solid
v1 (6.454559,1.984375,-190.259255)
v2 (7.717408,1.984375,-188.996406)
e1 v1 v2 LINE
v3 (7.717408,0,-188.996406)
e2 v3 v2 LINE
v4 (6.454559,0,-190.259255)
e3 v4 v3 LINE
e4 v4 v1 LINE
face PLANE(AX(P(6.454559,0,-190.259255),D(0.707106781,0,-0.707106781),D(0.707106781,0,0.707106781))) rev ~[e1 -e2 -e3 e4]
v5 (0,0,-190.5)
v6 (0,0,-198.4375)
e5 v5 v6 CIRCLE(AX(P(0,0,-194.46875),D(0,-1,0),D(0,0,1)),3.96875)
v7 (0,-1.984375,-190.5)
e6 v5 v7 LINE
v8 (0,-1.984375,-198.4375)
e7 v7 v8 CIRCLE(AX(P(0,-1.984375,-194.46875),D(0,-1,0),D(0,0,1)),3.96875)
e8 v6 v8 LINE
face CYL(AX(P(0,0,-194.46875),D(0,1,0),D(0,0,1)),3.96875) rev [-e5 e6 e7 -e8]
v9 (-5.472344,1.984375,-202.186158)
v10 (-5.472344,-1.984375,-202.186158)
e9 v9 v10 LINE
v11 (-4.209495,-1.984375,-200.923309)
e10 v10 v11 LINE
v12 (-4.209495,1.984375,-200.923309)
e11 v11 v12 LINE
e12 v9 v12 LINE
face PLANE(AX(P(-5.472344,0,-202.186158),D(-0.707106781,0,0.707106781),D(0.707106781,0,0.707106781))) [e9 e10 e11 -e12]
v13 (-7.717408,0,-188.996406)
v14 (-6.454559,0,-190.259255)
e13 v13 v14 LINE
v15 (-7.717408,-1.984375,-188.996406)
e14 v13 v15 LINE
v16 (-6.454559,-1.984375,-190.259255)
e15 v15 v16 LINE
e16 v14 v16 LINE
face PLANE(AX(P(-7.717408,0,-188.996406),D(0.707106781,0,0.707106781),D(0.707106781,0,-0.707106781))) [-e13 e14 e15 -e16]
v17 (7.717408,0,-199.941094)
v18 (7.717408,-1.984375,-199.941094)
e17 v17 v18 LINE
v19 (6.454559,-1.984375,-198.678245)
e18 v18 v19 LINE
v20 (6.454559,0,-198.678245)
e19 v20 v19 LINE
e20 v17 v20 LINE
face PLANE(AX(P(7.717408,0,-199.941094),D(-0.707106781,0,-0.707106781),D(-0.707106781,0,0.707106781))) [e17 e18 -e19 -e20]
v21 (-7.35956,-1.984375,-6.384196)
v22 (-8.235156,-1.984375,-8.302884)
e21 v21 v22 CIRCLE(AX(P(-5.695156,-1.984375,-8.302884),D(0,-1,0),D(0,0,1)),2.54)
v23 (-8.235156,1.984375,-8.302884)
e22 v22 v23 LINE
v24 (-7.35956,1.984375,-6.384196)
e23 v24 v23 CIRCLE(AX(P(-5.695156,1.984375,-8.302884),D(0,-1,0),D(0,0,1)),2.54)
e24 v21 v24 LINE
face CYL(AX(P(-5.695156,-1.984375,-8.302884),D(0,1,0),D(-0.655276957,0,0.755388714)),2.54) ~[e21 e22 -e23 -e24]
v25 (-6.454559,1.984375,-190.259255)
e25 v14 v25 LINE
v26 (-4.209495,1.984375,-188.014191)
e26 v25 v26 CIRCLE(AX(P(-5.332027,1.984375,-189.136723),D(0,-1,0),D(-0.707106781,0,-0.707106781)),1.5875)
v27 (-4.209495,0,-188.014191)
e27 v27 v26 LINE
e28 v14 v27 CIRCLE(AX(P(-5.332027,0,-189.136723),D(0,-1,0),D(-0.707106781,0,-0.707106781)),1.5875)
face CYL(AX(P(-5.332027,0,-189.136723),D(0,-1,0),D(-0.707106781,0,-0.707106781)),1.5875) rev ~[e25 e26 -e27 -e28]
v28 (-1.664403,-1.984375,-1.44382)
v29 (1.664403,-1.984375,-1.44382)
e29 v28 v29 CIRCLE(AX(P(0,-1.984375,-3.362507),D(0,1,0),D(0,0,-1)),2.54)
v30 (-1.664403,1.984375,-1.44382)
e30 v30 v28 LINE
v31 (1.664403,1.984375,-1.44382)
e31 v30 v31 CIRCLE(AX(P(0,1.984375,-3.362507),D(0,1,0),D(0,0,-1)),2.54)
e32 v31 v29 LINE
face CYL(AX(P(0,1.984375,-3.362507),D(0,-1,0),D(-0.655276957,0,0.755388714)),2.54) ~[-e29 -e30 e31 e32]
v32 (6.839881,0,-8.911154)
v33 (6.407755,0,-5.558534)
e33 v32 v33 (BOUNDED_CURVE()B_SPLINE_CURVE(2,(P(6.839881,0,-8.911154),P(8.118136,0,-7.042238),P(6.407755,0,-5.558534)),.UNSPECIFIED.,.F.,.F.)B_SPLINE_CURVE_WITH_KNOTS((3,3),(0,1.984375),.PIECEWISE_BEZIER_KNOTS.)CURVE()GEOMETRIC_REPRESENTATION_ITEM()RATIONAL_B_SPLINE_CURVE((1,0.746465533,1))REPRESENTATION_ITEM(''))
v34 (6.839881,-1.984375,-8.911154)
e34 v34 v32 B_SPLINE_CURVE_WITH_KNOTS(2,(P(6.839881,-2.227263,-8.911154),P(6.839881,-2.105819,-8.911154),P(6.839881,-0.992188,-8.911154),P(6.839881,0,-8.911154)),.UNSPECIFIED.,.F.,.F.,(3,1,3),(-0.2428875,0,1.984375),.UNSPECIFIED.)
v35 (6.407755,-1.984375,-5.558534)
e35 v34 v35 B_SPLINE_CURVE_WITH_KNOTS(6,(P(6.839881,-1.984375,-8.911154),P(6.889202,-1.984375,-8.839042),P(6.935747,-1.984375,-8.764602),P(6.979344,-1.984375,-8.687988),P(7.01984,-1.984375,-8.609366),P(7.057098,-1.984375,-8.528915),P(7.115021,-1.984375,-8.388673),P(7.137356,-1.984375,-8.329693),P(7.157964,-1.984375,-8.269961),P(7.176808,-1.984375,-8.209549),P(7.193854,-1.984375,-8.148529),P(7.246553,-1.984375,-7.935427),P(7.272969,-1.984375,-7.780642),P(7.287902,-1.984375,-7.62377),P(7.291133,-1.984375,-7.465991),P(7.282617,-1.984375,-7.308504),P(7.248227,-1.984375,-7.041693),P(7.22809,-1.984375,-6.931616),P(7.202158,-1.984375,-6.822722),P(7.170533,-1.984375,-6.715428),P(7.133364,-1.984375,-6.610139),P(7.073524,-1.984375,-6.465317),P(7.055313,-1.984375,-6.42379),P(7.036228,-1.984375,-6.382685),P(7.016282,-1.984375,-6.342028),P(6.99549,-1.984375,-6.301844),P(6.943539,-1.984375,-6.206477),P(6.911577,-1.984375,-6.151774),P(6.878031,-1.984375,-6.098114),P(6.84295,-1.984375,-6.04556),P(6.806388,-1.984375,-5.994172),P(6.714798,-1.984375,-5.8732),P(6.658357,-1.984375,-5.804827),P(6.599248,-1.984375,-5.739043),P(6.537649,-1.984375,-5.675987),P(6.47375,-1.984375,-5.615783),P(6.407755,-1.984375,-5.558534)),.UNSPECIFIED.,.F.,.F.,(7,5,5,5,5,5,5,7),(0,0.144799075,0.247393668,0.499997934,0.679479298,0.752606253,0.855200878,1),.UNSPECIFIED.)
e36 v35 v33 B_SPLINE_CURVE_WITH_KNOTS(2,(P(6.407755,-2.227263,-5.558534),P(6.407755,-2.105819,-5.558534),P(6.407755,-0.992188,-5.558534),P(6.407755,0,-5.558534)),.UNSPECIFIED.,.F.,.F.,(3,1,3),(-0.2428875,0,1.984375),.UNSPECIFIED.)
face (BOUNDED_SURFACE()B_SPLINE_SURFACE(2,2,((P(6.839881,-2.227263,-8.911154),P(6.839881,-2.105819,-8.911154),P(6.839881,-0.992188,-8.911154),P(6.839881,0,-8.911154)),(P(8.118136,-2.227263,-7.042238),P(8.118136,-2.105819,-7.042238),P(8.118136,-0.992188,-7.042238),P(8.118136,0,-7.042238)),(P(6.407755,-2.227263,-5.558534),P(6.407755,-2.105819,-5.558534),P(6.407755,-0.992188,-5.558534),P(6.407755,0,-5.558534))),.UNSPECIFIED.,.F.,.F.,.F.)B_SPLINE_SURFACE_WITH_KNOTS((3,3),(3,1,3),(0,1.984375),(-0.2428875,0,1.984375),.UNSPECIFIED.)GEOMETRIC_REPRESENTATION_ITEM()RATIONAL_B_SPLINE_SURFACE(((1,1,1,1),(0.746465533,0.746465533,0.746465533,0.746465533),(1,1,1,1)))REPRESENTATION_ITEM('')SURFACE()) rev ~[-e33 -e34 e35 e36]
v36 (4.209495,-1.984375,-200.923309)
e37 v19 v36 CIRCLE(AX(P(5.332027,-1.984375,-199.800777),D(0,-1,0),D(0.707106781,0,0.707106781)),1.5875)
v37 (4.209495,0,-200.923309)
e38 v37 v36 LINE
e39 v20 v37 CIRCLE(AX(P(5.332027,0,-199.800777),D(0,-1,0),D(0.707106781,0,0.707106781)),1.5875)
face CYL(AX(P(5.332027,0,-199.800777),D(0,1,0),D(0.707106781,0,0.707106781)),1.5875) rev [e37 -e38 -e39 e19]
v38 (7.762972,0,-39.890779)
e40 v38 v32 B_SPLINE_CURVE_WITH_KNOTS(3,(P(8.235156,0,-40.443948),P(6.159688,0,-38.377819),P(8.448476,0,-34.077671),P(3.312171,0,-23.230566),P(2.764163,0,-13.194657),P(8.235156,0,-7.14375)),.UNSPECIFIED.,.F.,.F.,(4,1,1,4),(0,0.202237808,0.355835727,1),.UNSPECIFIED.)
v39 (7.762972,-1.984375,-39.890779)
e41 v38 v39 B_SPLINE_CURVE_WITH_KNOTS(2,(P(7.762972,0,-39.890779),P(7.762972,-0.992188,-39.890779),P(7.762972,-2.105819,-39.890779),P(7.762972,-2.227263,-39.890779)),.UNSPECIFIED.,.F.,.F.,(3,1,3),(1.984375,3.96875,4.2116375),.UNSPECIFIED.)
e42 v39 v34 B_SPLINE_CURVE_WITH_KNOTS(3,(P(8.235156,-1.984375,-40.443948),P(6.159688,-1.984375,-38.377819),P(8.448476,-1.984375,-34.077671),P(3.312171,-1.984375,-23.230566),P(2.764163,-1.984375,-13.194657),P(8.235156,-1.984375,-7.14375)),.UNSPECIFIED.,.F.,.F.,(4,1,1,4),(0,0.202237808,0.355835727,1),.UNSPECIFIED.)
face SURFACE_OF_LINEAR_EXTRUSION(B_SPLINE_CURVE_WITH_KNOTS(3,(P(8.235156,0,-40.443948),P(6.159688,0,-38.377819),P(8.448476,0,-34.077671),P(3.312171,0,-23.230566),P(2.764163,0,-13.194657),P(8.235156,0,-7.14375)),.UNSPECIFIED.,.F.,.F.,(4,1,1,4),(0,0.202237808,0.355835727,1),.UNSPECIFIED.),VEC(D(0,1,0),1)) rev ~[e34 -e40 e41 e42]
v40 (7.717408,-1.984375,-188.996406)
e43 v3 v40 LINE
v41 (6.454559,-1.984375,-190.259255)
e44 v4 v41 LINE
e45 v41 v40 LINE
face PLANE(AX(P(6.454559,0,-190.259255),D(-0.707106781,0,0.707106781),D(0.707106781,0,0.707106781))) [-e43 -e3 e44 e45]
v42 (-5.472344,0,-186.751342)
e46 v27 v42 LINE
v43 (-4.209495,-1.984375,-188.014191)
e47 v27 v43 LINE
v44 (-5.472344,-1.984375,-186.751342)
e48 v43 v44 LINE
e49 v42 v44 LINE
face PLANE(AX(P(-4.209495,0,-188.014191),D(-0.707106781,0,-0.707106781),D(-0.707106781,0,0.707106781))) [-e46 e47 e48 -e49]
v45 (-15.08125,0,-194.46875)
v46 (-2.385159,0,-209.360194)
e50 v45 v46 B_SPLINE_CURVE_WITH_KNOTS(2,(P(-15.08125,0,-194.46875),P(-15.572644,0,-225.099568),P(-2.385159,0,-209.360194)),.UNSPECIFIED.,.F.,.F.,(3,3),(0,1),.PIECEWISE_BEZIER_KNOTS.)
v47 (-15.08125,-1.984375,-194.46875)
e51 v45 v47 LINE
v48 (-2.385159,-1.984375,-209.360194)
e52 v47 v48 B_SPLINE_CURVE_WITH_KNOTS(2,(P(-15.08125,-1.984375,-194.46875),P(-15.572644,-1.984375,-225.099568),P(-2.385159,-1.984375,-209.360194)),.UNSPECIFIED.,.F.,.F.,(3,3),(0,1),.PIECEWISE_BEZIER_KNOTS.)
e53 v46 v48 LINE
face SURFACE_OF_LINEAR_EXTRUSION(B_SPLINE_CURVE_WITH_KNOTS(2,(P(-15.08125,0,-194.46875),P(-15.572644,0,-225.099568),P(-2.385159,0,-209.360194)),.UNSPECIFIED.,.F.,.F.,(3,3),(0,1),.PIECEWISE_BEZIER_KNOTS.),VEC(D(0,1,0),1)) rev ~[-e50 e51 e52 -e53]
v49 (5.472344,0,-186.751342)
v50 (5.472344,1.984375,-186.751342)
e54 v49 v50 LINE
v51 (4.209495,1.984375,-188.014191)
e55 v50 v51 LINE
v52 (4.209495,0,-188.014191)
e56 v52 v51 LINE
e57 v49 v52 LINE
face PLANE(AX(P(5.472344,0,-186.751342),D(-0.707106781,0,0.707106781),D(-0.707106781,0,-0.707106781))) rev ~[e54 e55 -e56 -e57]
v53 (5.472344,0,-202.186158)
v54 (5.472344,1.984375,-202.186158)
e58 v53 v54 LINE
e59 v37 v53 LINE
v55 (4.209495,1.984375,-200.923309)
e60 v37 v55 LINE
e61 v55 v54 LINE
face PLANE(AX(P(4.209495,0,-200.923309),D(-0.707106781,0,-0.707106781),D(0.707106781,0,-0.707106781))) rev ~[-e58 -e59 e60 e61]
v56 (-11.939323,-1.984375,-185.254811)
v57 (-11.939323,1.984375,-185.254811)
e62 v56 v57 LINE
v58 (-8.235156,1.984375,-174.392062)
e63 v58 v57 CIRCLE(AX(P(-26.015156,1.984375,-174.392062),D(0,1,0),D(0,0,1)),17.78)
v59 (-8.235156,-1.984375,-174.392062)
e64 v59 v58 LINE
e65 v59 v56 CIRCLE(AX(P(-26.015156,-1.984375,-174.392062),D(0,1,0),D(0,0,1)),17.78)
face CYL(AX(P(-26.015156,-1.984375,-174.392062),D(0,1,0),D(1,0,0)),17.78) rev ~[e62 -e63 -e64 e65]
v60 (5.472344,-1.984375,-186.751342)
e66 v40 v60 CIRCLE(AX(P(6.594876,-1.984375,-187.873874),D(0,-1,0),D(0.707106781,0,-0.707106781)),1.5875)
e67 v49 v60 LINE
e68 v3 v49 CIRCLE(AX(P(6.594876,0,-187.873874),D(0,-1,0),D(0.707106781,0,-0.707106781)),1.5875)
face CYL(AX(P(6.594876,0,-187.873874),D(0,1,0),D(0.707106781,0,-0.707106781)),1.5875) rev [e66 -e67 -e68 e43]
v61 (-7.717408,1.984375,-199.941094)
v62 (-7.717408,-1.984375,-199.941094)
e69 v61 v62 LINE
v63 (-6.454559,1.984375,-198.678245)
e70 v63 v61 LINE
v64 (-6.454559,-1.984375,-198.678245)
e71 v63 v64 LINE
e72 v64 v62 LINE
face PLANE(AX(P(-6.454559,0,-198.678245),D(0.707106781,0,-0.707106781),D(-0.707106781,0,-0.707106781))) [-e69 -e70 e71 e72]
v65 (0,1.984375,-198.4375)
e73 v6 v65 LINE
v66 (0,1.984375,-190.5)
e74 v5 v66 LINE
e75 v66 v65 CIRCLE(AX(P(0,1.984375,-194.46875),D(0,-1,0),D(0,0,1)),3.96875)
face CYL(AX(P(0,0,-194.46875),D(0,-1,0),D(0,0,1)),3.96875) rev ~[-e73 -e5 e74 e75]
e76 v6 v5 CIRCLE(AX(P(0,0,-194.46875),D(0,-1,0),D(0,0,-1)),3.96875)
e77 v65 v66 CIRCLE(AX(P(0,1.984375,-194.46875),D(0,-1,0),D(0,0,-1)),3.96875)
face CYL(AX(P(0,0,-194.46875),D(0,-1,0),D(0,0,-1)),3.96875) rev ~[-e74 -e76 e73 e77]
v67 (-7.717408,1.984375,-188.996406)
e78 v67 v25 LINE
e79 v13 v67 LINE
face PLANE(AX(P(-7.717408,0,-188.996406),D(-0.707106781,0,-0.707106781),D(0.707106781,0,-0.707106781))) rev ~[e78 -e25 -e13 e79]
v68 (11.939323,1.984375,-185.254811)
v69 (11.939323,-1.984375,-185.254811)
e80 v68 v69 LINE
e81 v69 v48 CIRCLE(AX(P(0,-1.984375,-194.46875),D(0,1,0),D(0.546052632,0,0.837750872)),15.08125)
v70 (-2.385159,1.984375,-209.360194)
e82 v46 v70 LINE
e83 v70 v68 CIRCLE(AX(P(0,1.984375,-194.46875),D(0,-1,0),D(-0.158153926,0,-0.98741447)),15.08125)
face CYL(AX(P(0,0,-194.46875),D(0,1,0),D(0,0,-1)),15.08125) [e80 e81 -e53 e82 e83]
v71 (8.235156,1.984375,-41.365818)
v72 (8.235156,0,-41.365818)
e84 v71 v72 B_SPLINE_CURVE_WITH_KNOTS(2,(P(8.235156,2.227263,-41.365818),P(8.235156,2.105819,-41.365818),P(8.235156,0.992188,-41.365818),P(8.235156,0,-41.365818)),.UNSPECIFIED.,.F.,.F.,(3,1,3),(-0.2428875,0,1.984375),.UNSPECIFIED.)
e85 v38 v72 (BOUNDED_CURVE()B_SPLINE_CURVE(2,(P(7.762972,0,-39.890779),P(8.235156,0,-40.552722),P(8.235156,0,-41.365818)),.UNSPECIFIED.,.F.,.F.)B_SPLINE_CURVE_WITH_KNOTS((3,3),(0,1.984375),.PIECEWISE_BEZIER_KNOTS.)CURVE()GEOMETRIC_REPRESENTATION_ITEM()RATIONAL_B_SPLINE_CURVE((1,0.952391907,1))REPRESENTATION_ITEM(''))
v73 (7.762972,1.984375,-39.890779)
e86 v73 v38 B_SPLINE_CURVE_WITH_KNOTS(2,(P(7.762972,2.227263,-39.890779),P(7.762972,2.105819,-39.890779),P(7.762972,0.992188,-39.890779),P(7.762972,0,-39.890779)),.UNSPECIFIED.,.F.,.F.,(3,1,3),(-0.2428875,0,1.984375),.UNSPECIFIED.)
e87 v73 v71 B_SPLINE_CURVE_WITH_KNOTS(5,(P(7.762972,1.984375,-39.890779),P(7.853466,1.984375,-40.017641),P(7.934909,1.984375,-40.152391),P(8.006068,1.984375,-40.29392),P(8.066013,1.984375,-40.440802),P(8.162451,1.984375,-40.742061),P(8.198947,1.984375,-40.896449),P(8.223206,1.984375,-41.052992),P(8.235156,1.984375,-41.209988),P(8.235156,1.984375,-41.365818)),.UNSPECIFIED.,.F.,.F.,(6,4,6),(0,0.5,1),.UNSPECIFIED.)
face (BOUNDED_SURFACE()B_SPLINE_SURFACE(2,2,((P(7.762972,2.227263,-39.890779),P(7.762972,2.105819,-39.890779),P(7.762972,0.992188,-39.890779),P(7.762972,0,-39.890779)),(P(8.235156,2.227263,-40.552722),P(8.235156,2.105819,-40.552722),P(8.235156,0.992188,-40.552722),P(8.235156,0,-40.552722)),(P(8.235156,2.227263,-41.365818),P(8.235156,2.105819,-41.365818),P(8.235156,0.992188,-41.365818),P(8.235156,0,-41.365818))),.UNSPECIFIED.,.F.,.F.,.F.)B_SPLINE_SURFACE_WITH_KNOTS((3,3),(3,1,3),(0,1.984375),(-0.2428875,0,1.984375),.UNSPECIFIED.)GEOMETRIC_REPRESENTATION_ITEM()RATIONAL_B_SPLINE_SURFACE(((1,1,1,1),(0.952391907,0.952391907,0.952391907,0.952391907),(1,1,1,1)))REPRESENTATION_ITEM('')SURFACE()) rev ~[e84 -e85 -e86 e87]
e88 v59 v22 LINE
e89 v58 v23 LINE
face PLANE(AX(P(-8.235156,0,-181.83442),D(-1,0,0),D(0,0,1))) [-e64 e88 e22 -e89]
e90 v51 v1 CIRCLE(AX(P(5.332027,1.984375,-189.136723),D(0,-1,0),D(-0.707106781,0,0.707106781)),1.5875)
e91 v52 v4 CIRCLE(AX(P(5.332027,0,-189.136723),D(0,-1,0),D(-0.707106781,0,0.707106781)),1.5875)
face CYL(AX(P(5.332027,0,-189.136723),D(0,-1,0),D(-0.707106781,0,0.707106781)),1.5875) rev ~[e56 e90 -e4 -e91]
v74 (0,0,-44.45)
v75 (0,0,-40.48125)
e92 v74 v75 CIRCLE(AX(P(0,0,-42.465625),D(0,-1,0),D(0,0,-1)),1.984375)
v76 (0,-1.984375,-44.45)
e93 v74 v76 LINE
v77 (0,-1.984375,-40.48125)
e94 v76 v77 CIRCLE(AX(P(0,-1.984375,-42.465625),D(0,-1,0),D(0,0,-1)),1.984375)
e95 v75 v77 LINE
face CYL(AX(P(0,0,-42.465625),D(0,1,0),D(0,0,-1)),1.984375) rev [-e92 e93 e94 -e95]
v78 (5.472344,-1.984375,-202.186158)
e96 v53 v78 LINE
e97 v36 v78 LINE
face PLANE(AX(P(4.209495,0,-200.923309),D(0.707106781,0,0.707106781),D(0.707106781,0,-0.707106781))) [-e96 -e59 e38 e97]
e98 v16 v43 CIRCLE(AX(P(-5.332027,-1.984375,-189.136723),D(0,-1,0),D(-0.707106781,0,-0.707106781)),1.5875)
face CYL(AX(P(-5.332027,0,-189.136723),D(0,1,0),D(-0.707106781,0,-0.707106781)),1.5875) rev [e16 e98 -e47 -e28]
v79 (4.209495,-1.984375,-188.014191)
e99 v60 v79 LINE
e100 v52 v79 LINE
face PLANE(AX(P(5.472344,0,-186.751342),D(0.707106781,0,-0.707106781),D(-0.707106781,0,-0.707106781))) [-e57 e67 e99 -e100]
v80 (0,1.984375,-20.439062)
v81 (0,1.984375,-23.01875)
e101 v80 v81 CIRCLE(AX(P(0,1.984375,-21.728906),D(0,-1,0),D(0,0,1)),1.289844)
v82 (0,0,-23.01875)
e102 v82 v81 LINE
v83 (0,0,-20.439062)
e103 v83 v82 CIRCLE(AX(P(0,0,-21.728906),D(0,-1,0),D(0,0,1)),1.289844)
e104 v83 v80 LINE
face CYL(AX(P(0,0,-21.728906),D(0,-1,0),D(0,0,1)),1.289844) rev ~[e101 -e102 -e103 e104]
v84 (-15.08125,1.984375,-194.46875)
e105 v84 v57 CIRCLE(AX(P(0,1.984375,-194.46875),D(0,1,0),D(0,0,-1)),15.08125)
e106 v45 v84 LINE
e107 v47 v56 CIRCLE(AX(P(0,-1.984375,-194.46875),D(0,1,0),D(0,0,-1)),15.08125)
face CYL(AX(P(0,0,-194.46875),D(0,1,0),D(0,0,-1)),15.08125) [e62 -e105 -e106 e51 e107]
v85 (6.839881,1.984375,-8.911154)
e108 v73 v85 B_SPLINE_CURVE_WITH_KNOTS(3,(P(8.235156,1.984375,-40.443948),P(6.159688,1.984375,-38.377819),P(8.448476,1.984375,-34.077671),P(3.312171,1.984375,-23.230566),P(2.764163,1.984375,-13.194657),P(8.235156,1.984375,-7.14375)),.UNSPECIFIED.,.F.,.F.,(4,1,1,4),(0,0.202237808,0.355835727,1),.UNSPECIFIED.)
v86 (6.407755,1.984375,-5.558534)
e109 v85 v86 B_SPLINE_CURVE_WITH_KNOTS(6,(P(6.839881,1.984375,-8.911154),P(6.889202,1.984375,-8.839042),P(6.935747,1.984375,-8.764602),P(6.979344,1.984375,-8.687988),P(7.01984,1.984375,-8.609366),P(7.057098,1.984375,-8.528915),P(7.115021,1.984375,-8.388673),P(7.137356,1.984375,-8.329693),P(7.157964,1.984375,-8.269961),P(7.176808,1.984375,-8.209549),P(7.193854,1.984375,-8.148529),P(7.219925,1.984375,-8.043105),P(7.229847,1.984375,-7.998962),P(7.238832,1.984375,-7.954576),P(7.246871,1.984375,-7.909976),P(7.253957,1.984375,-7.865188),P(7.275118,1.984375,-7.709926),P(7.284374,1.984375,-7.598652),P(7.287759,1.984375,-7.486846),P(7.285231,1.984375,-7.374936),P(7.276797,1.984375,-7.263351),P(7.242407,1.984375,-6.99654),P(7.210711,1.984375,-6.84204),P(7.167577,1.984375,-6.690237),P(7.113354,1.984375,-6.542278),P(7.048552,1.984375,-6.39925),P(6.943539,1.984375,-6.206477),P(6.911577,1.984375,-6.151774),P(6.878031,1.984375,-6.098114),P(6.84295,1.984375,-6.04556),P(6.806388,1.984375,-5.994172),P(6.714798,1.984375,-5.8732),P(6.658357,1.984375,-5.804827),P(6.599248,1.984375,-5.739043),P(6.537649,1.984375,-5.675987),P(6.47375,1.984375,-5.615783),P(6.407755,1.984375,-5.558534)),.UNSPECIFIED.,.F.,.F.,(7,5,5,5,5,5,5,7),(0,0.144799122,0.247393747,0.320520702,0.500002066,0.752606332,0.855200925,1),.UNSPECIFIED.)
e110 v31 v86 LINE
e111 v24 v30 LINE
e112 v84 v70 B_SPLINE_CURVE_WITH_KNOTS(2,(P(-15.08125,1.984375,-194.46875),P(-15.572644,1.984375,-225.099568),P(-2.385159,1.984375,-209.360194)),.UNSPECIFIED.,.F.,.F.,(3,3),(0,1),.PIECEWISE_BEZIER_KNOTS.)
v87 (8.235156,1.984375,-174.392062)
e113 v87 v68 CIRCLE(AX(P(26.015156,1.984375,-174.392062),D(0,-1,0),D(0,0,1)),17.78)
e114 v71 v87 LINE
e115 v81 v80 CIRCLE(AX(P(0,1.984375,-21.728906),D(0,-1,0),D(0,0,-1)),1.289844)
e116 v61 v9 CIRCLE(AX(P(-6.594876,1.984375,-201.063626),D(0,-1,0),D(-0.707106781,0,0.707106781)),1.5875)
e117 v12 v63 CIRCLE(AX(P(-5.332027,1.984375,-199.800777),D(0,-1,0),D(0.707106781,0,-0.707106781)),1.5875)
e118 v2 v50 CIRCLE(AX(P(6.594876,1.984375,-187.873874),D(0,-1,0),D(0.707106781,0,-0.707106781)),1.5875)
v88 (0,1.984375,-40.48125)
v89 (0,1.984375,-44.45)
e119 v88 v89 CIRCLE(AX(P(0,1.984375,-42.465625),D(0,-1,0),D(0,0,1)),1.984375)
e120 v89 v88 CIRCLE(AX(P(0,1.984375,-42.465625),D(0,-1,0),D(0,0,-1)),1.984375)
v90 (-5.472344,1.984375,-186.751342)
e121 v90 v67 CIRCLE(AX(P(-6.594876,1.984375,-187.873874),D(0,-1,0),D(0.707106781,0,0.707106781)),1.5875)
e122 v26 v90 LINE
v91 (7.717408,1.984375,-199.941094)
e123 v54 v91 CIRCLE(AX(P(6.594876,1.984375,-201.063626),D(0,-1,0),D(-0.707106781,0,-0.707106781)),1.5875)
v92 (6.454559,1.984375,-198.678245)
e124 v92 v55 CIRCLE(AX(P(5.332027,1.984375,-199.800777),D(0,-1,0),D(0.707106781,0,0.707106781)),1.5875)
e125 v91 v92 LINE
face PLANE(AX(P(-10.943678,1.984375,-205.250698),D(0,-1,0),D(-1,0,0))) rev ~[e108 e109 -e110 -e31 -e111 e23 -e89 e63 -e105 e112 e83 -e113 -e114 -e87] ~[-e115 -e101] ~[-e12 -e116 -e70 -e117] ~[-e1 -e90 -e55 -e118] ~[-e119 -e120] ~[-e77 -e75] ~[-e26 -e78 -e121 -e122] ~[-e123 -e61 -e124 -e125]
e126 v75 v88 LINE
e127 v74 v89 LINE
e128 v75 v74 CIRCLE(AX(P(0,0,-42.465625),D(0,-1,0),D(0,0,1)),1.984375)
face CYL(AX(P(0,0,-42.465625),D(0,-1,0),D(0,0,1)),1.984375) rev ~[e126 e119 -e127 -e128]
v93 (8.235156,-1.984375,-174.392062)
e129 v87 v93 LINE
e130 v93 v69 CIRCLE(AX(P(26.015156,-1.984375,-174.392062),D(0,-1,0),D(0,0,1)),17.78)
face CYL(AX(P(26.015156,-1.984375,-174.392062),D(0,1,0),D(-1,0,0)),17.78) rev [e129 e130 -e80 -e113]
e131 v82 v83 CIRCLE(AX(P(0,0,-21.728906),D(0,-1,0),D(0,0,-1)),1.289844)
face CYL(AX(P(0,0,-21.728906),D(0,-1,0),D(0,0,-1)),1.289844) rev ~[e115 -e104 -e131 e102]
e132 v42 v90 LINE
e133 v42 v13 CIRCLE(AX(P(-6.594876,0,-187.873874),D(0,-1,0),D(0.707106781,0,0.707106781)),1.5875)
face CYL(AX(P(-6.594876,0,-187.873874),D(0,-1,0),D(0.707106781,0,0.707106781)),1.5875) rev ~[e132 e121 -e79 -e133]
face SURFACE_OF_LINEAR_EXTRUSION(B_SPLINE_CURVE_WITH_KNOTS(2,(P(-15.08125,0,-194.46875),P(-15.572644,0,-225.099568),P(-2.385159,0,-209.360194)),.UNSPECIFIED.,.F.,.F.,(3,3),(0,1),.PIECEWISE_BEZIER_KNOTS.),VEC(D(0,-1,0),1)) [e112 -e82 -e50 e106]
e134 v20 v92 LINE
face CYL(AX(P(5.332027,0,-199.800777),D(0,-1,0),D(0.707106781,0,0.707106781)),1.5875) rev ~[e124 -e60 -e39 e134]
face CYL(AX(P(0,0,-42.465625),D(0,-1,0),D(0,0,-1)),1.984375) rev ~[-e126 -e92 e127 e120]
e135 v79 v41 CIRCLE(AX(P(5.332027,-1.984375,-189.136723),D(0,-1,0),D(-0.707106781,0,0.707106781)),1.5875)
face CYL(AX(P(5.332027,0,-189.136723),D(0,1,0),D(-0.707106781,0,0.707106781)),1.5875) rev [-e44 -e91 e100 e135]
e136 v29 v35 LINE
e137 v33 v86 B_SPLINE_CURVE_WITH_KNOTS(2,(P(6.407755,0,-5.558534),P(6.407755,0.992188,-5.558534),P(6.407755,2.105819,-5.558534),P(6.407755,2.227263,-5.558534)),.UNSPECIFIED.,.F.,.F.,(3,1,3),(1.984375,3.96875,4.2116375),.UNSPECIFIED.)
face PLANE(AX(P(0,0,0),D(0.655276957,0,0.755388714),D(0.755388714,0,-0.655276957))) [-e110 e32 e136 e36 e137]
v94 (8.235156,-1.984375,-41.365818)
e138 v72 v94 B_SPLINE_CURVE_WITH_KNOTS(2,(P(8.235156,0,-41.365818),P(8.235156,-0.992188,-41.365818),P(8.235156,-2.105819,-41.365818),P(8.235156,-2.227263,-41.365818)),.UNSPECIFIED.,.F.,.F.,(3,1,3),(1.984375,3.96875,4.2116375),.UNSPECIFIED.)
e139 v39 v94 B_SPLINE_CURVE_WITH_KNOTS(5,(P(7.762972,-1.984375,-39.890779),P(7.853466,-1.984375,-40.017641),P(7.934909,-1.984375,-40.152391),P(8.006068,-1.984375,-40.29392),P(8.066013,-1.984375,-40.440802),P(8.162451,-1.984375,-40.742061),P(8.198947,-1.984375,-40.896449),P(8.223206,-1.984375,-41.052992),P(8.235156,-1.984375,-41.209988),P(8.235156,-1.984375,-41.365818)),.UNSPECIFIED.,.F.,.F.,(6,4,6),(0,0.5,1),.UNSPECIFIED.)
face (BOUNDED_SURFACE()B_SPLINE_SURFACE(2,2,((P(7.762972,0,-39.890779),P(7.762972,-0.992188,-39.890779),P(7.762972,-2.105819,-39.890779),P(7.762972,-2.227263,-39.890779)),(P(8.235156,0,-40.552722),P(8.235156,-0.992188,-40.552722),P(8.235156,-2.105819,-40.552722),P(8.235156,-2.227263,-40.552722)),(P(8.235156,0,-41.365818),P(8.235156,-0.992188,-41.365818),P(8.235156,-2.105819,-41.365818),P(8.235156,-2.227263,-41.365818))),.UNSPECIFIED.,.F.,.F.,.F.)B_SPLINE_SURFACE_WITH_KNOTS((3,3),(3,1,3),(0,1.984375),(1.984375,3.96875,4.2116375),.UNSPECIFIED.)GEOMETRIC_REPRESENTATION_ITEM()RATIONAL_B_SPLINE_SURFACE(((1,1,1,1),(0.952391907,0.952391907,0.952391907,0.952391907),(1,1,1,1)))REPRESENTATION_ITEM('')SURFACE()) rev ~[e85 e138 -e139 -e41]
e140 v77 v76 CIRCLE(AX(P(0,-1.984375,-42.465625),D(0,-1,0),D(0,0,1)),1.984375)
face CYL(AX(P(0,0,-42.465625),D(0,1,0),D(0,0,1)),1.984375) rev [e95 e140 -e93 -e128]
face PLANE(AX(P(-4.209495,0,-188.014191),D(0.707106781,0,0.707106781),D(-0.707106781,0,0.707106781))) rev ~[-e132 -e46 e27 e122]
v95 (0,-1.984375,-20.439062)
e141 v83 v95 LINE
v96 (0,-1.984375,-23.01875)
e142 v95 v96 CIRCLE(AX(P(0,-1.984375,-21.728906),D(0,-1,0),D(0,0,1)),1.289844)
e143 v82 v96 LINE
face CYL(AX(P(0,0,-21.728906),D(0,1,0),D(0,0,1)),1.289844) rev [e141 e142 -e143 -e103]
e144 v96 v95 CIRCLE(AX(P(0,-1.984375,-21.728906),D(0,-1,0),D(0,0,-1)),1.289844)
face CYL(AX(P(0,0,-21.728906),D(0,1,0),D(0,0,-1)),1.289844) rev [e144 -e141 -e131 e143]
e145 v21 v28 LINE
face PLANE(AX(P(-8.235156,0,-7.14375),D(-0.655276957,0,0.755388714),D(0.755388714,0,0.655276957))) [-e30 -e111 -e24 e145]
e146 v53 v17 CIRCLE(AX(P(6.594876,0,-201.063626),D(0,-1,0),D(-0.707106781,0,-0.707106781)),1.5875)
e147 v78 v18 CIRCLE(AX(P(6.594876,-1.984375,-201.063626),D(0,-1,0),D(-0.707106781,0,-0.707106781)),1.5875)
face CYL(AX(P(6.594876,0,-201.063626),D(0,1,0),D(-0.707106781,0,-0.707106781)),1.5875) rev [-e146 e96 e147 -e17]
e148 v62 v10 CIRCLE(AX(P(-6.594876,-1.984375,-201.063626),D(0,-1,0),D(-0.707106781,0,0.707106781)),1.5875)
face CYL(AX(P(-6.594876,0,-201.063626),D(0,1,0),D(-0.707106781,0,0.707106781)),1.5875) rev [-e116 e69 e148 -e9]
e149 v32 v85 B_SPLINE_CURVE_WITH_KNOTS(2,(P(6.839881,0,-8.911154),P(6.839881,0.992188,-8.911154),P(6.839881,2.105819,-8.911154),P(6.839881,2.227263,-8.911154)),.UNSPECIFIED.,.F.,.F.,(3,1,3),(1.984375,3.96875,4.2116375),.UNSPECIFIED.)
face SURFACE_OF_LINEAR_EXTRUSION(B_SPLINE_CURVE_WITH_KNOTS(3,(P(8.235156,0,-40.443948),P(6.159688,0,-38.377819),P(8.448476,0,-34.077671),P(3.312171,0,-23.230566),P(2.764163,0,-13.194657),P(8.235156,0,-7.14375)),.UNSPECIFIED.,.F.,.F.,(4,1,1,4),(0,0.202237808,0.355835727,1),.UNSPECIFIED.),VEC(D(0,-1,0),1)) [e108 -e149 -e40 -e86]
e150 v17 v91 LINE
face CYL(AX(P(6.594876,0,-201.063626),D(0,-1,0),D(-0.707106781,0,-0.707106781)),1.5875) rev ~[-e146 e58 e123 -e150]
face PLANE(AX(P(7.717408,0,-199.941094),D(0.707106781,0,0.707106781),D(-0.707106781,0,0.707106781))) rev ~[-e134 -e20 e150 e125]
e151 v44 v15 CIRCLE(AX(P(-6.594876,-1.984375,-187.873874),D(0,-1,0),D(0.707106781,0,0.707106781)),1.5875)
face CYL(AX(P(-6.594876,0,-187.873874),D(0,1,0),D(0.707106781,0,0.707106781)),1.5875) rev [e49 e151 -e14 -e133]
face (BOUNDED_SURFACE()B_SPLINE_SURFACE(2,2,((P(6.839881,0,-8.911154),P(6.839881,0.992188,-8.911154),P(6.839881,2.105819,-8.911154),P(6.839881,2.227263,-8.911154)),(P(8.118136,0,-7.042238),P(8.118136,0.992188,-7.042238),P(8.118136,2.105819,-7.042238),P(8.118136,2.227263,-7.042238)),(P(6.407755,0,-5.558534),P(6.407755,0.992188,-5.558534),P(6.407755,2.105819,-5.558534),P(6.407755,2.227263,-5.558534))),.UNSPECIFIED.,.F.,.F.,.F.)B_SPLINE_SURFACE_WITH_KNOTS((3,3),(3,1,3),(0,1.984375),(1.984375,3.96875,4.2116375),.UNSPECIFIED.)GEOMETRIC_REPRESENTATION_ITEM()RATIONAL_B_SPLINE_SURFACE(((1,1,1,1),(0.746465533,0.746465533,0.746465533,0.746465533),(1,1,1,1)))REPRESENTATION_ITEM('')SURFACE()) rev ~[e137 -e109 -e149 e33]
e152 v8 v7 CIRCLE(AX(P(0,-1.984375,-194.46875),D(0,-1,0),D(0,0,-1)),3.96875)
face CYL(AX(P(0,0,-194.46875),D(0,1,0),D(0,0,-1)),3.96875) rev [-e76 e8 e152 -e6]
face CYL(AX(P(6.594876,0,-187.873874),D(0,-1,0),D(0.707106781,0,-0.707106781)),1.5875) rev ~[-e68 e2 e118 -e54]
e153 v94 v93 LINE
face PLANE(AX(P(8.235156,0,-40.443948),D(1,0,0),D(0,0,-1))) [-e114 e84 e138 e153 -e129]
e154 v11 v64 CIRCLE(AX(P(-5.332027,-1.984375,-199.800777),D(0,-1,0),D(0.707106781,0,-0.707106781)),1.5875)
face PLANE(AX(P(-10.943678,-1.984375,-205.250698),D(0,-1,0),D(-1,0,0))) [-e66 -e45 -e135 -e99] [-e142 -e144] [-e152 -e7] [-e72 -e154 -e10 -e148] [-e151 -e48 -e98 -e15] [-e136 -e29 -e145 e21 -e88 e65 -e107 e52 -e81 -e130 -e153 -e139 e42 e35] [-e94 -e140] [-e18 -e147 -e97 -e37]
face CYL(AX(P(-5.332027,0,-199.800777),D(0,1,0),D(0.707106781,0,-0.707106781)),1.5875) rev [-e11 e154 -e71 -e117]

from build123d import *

# Parameters (mm, degrees)
BOSS_EXTRUDE1_DEPTH = 1.984375
FILLET1_R           = 17.779999999999998
FILLET3_R           = 2.54


with BuildPart() as part:
    # Sketch1 → Boss-Extrude1 (new, symmetric)
    # profile 1 of 7: a face of its own
    with BuildSketch(Plane(origin=(0, 0, 0), x_dir=(1, 0, 0), z_dir=(0, 1, 0))):
        with BuildLine():
            Line((-8.23515625000002, 7.14375), (0, 7.14375))
            Line((0, 7.14375), (0, 20.43906250000001))
            ThreePointArc((-1.513e-14, 20.43906250000001), (-1.2898437499999995, 21.72890625000001), (-1.567e-14, 23.018750000000008))
            Line((0, 23.018750000000008), (0, 40.48125000000001))
            ThreePointArc((6.485e-14, 40.48125000000001), (-1.984375, 42.46562500000001), (6.445e-14, 44.45000000000001))
            Line((0, 44.45000000000001), (0, 179.38750000000002))
            ThreePointArc((3.455e-13, 179.38750000000002), (-4.295498058784434, 180.01216679408725), (-8.235156249999983, 181.83441966156948))
            Line((-8.235156250000001, 181.83441966156946), (-8.235156250000022, 7.143750000000011))
        make_face()
    # profile 2 of 7: a face of its own
    with BuildSketch(Plane(origin=(0, 0, 0), x_dir=(1, 0, 0), z_dir=(0, 1, 0))):
        with BuildLine():
            Line((0, 20.43906250000001), (0, 7.14375))
            Line((0, 7.14375), (8.23515625000002, 7.14375))
            add(Edge.make_bspline(
                [(8.235156250000017, 40.44394804447435), (6.159687598359963, 38.37781946383395), (8.44847607791561, 34.0776706590483), (3.312171002640199, 23.23056643102504), (2.7641627847252086, 13.194656625268534), (8.23515625000002, 7.143749999999999)],
                knots=[0, 0, 0, 0, 0.20223780839821387, 0.3558357267481405, 1, 1, 1, 1], degree=3))
            Line((8.235156250000017, 40.443948044474354), (8.235156250000001, 181.83441966156946))
            ThreePointArc((8.23515624999998, 181.83441966156948), (4.295498058784762, 180.01216679408734), (3.455e-13, 179.38750000000002))
            Line((0, 179.38750000000002), (0, 44.45000000000001))
            ThreePointArc((6.445e-14, 44.45000000000001), (1.4031650189170781, 43.86879001891704), (1.984375, 42.46562500000001))
            ThreePointArc((1.984375, 42.46562500000001), (1.4031650189170788, 41.06245998108298), (6.485e-14, 40.48125000000001))
            Line((0, 40.48125000000001), (0, 23.018750000000008))
            ThreePointArc((-1.567e-14, 23.018750000000008), (0.9120572622960801, 22.6409635122961), (1.2898437499999995, 21.72890625000001))
            ThreePointArc((1.2898437499999995, 21.72890625000001), (0.9120572622960798, 20.816848987703917), (-1.513e-14, 20.43906250000001))
        make_face()
    # profile 3 of 7: a face of its own
    with BuildSketch(Plane(origin=(0, 0, 0), x_dir=(1, 0, 0), z_dir=(0, 1, 0))):
        Polygon((-8.23515625000002, 7.14375), (0, -8.9e-16), (0, 7.14375), align=None)
    # profile 4 of 7: a face of its own
    with BuildSketch(Plane(origin=(0, 0, 0), x_dir=(1, 0, 0), z_dir=(0, 1, 0))):
        Polygon((0, 7.14375), (0, 0), (8.23515625000002, 7.14375), align=None)
    # profile 5 of 7: a face of its own
    with BuildSketch(Plane(origin=(0, 0, 0), x_dir=(1, 0, 0), z_dir=(0, 1, 0))):
        with BuildLine():
            ThreePointArc((-15.081249999999988, 194.46875), (-13.259723823628677, 187.2837777882518), (-8.235156249999983, 181.83441966156948))
            ThreePointArc((-8.235156249999983, 181.83441966156948), (-4.295498058784434, 180.01216679408725), (3.455e-13, 179.38750000000002))
            Line((0, 179.38750000000002), (0, 190.5))
            ThreePointArc((3.1e-14, 190.5), (-3.96874999999999, 194.46875), (3.197e-14, 198.4375))
            Line((0, 198.4375), (0, 209.54999999999998))
            ThreePointArc((9.2e-16, 209.54999999999998), (-1.1963495653314102, 209.50247373299547), (-2.3851589030460536, 209.3601944755947))
            ThreePointArc((-2.3851589030460536, 209.3601944755947), (-11.476394888401645, 204.2532511077708), (-15.081249999999988, 194.46875))
        make_face()
        with BuildLine():
            Line((-7.717407604043602, 188.99640642622387), (-6.454559087018252, 190.25925494324918))
            ThreePointArc((-6.45455908701825, 190.25925494324918), (-4.209495056750905, 190.25925494324918), (-4.20949505675094, 188.01419091298183))
            Line((-4.209495056750945, 188.01419091298183), (-5.472343573776267, 186.7513423959565))
            ThreePointArc((-5.472343573776268, 186.7513423959565), (-7.717407604043627, 186.75134239595653), (-7.717407604043606, 188.99640642622387))
        make_face(mode=Mode.SUBTRACT)
        with BuildLine():
            Line((-5.472343573776115, 202.1861576040435), (-4.209495056750815, 200.92330908701817))
            ThreePointArc((-4.209495056750815, 200.92330908701817), (-4.209495056750835, 198.67824505675082), (-6.454559087018169, 198.67824505675088))
            Line((-6.454559087018169, 198.67824505675088), (-7.717407604043481, 199.94109357377621))
            ThreePointArc((-7.717407604043492, 199.94109357377621), (-7.717407604043447, 202.18615760404353), (-5.472343573776121, 202.1861576040435))
        make_face(mode=Mode.SUBTRACT)
    # profile 6 of 7: a face of its own
    with BuildSketch(Plane(origin=(0, 0, 0), x_dir=(1, 0, 0), z_dir=(0, 1, 0))):
        with BuildLine():
            Line((0, 190.5), (0, 179.38750000000002))
            ThreePointArc((3.455e-13, 179.38750000000002), (4.295498058784762, 180.01216679408734), (8.23515624999998, 181.83441966156948))
            ThreePointArc((8.23515624999998, 181.83441966156948), (13.259723823628674, 187.2837777882518), (15.081249999999988, 194.46875))
            ThreePointArc((15.081249999999988, 194.46875), (10.664054143769611, 205.13280414376962), (9.2e-16, 209.54999999999998))
            Line((0, 209.54999999999998), (0, 198.4375))
            ThreePointArc((3.197e-14, 198.4375), (2.8063300378341145, 197.2750800378341), (3.96874999999999, 194.46875))
            ThreePointArc((3.96874999999999, 194.46875), (2.806330037834115, 191.6624199621659), (3.1e-14, 190.5))
        make_face()
        with BuildLine():
            ThreePointArc((4.209495056750873, 188.0141909129818), (4.209495056750863, 190.25925494324915), (6.454559087018207, 190.25925494324912))
            Line((6.454559087018202, 190.25925494324912), (7.717407604043522, 188.99640642622379))
            ThreePointArc((7.717407604043532, 188.99640642622379), (7.717407604043521, 186.75134239595644), (5.472343573776178, 186.75134239595644))
            Line((5.472343573776174, 186.75134239595644), (4.209495056750864, 188.0141909129818))
        make_face(mode=Mode.SUBTRACT)
        with BuildLine():
            Line((7.717407604043602, 199.9410935737761), (6.454559087018252, 198.6782450567508))
            ThreePointArc((6.454559087018261, 198.6782450567508), (4.209495056750886, 198.67824505675077), (4.209495056750962, 200.92330908701814))
            Line((4.209495056750945, 200.92330908701817), (5.472343573776294, 202.18615760404347))
            ThreePointArc((5.472343573776303, 202.18615760404347), (7.7174076040436335, 202.18615760404342), (7.717407604043618, 199.94109357377607))
        make_face(mode=Mode.SUBTRACT)
    # profile 7 of 7: a face of its own
    with BuildSketch(Plane(origin=(0, 0, 0), x_dir=(1, 0, 0), z_dir=(0, 1, 0))):
        with BuildLine():
            add(Edge.make_bspline(
                [(-15.081249999999988, 194.46875), (-15.572644055765616, 225.099567963449), (-2.385158903046056, 209.3601944755947)],
                knots=[0, 0, 0, 1, 1, 1], degree=2))
            ThreePointArc((-15.081249999999988, 194.46875), (-11.476394888401645, 204.2532511077708), (-2.3851589030460536, 209.3601944755947))
        make_face()
    extrude(amount=BOSS_EXTRUDE1_DEPTH, both=True)

    # Fillet1
    fillet1_edges = [part.edges().sort_by_distance(p)[0] for p in [
        (-8.235156249999992, 0, -181.83441966156948),
        (8.235156249999992, 0, -181.83441966156948),
    ]]
    fillet(fillet1_edges, radius=FILLET1_R)

    # Fillet3
    fillet3_edges = [part.edges().sort_by_distance(p)[0] for p in [
        (8.235156250000017, -0.9921875, -40.443948044474354),
        (-8.23515625000002, 0, -7.143750000000006),
        (0, 0, 4.4e-16),
        (8.23515625000002, 0.9921875, -7.143749999999999),
    ]]
    fillet(fillet3_edges, radius=FILLET3_R)


solid = part.part
